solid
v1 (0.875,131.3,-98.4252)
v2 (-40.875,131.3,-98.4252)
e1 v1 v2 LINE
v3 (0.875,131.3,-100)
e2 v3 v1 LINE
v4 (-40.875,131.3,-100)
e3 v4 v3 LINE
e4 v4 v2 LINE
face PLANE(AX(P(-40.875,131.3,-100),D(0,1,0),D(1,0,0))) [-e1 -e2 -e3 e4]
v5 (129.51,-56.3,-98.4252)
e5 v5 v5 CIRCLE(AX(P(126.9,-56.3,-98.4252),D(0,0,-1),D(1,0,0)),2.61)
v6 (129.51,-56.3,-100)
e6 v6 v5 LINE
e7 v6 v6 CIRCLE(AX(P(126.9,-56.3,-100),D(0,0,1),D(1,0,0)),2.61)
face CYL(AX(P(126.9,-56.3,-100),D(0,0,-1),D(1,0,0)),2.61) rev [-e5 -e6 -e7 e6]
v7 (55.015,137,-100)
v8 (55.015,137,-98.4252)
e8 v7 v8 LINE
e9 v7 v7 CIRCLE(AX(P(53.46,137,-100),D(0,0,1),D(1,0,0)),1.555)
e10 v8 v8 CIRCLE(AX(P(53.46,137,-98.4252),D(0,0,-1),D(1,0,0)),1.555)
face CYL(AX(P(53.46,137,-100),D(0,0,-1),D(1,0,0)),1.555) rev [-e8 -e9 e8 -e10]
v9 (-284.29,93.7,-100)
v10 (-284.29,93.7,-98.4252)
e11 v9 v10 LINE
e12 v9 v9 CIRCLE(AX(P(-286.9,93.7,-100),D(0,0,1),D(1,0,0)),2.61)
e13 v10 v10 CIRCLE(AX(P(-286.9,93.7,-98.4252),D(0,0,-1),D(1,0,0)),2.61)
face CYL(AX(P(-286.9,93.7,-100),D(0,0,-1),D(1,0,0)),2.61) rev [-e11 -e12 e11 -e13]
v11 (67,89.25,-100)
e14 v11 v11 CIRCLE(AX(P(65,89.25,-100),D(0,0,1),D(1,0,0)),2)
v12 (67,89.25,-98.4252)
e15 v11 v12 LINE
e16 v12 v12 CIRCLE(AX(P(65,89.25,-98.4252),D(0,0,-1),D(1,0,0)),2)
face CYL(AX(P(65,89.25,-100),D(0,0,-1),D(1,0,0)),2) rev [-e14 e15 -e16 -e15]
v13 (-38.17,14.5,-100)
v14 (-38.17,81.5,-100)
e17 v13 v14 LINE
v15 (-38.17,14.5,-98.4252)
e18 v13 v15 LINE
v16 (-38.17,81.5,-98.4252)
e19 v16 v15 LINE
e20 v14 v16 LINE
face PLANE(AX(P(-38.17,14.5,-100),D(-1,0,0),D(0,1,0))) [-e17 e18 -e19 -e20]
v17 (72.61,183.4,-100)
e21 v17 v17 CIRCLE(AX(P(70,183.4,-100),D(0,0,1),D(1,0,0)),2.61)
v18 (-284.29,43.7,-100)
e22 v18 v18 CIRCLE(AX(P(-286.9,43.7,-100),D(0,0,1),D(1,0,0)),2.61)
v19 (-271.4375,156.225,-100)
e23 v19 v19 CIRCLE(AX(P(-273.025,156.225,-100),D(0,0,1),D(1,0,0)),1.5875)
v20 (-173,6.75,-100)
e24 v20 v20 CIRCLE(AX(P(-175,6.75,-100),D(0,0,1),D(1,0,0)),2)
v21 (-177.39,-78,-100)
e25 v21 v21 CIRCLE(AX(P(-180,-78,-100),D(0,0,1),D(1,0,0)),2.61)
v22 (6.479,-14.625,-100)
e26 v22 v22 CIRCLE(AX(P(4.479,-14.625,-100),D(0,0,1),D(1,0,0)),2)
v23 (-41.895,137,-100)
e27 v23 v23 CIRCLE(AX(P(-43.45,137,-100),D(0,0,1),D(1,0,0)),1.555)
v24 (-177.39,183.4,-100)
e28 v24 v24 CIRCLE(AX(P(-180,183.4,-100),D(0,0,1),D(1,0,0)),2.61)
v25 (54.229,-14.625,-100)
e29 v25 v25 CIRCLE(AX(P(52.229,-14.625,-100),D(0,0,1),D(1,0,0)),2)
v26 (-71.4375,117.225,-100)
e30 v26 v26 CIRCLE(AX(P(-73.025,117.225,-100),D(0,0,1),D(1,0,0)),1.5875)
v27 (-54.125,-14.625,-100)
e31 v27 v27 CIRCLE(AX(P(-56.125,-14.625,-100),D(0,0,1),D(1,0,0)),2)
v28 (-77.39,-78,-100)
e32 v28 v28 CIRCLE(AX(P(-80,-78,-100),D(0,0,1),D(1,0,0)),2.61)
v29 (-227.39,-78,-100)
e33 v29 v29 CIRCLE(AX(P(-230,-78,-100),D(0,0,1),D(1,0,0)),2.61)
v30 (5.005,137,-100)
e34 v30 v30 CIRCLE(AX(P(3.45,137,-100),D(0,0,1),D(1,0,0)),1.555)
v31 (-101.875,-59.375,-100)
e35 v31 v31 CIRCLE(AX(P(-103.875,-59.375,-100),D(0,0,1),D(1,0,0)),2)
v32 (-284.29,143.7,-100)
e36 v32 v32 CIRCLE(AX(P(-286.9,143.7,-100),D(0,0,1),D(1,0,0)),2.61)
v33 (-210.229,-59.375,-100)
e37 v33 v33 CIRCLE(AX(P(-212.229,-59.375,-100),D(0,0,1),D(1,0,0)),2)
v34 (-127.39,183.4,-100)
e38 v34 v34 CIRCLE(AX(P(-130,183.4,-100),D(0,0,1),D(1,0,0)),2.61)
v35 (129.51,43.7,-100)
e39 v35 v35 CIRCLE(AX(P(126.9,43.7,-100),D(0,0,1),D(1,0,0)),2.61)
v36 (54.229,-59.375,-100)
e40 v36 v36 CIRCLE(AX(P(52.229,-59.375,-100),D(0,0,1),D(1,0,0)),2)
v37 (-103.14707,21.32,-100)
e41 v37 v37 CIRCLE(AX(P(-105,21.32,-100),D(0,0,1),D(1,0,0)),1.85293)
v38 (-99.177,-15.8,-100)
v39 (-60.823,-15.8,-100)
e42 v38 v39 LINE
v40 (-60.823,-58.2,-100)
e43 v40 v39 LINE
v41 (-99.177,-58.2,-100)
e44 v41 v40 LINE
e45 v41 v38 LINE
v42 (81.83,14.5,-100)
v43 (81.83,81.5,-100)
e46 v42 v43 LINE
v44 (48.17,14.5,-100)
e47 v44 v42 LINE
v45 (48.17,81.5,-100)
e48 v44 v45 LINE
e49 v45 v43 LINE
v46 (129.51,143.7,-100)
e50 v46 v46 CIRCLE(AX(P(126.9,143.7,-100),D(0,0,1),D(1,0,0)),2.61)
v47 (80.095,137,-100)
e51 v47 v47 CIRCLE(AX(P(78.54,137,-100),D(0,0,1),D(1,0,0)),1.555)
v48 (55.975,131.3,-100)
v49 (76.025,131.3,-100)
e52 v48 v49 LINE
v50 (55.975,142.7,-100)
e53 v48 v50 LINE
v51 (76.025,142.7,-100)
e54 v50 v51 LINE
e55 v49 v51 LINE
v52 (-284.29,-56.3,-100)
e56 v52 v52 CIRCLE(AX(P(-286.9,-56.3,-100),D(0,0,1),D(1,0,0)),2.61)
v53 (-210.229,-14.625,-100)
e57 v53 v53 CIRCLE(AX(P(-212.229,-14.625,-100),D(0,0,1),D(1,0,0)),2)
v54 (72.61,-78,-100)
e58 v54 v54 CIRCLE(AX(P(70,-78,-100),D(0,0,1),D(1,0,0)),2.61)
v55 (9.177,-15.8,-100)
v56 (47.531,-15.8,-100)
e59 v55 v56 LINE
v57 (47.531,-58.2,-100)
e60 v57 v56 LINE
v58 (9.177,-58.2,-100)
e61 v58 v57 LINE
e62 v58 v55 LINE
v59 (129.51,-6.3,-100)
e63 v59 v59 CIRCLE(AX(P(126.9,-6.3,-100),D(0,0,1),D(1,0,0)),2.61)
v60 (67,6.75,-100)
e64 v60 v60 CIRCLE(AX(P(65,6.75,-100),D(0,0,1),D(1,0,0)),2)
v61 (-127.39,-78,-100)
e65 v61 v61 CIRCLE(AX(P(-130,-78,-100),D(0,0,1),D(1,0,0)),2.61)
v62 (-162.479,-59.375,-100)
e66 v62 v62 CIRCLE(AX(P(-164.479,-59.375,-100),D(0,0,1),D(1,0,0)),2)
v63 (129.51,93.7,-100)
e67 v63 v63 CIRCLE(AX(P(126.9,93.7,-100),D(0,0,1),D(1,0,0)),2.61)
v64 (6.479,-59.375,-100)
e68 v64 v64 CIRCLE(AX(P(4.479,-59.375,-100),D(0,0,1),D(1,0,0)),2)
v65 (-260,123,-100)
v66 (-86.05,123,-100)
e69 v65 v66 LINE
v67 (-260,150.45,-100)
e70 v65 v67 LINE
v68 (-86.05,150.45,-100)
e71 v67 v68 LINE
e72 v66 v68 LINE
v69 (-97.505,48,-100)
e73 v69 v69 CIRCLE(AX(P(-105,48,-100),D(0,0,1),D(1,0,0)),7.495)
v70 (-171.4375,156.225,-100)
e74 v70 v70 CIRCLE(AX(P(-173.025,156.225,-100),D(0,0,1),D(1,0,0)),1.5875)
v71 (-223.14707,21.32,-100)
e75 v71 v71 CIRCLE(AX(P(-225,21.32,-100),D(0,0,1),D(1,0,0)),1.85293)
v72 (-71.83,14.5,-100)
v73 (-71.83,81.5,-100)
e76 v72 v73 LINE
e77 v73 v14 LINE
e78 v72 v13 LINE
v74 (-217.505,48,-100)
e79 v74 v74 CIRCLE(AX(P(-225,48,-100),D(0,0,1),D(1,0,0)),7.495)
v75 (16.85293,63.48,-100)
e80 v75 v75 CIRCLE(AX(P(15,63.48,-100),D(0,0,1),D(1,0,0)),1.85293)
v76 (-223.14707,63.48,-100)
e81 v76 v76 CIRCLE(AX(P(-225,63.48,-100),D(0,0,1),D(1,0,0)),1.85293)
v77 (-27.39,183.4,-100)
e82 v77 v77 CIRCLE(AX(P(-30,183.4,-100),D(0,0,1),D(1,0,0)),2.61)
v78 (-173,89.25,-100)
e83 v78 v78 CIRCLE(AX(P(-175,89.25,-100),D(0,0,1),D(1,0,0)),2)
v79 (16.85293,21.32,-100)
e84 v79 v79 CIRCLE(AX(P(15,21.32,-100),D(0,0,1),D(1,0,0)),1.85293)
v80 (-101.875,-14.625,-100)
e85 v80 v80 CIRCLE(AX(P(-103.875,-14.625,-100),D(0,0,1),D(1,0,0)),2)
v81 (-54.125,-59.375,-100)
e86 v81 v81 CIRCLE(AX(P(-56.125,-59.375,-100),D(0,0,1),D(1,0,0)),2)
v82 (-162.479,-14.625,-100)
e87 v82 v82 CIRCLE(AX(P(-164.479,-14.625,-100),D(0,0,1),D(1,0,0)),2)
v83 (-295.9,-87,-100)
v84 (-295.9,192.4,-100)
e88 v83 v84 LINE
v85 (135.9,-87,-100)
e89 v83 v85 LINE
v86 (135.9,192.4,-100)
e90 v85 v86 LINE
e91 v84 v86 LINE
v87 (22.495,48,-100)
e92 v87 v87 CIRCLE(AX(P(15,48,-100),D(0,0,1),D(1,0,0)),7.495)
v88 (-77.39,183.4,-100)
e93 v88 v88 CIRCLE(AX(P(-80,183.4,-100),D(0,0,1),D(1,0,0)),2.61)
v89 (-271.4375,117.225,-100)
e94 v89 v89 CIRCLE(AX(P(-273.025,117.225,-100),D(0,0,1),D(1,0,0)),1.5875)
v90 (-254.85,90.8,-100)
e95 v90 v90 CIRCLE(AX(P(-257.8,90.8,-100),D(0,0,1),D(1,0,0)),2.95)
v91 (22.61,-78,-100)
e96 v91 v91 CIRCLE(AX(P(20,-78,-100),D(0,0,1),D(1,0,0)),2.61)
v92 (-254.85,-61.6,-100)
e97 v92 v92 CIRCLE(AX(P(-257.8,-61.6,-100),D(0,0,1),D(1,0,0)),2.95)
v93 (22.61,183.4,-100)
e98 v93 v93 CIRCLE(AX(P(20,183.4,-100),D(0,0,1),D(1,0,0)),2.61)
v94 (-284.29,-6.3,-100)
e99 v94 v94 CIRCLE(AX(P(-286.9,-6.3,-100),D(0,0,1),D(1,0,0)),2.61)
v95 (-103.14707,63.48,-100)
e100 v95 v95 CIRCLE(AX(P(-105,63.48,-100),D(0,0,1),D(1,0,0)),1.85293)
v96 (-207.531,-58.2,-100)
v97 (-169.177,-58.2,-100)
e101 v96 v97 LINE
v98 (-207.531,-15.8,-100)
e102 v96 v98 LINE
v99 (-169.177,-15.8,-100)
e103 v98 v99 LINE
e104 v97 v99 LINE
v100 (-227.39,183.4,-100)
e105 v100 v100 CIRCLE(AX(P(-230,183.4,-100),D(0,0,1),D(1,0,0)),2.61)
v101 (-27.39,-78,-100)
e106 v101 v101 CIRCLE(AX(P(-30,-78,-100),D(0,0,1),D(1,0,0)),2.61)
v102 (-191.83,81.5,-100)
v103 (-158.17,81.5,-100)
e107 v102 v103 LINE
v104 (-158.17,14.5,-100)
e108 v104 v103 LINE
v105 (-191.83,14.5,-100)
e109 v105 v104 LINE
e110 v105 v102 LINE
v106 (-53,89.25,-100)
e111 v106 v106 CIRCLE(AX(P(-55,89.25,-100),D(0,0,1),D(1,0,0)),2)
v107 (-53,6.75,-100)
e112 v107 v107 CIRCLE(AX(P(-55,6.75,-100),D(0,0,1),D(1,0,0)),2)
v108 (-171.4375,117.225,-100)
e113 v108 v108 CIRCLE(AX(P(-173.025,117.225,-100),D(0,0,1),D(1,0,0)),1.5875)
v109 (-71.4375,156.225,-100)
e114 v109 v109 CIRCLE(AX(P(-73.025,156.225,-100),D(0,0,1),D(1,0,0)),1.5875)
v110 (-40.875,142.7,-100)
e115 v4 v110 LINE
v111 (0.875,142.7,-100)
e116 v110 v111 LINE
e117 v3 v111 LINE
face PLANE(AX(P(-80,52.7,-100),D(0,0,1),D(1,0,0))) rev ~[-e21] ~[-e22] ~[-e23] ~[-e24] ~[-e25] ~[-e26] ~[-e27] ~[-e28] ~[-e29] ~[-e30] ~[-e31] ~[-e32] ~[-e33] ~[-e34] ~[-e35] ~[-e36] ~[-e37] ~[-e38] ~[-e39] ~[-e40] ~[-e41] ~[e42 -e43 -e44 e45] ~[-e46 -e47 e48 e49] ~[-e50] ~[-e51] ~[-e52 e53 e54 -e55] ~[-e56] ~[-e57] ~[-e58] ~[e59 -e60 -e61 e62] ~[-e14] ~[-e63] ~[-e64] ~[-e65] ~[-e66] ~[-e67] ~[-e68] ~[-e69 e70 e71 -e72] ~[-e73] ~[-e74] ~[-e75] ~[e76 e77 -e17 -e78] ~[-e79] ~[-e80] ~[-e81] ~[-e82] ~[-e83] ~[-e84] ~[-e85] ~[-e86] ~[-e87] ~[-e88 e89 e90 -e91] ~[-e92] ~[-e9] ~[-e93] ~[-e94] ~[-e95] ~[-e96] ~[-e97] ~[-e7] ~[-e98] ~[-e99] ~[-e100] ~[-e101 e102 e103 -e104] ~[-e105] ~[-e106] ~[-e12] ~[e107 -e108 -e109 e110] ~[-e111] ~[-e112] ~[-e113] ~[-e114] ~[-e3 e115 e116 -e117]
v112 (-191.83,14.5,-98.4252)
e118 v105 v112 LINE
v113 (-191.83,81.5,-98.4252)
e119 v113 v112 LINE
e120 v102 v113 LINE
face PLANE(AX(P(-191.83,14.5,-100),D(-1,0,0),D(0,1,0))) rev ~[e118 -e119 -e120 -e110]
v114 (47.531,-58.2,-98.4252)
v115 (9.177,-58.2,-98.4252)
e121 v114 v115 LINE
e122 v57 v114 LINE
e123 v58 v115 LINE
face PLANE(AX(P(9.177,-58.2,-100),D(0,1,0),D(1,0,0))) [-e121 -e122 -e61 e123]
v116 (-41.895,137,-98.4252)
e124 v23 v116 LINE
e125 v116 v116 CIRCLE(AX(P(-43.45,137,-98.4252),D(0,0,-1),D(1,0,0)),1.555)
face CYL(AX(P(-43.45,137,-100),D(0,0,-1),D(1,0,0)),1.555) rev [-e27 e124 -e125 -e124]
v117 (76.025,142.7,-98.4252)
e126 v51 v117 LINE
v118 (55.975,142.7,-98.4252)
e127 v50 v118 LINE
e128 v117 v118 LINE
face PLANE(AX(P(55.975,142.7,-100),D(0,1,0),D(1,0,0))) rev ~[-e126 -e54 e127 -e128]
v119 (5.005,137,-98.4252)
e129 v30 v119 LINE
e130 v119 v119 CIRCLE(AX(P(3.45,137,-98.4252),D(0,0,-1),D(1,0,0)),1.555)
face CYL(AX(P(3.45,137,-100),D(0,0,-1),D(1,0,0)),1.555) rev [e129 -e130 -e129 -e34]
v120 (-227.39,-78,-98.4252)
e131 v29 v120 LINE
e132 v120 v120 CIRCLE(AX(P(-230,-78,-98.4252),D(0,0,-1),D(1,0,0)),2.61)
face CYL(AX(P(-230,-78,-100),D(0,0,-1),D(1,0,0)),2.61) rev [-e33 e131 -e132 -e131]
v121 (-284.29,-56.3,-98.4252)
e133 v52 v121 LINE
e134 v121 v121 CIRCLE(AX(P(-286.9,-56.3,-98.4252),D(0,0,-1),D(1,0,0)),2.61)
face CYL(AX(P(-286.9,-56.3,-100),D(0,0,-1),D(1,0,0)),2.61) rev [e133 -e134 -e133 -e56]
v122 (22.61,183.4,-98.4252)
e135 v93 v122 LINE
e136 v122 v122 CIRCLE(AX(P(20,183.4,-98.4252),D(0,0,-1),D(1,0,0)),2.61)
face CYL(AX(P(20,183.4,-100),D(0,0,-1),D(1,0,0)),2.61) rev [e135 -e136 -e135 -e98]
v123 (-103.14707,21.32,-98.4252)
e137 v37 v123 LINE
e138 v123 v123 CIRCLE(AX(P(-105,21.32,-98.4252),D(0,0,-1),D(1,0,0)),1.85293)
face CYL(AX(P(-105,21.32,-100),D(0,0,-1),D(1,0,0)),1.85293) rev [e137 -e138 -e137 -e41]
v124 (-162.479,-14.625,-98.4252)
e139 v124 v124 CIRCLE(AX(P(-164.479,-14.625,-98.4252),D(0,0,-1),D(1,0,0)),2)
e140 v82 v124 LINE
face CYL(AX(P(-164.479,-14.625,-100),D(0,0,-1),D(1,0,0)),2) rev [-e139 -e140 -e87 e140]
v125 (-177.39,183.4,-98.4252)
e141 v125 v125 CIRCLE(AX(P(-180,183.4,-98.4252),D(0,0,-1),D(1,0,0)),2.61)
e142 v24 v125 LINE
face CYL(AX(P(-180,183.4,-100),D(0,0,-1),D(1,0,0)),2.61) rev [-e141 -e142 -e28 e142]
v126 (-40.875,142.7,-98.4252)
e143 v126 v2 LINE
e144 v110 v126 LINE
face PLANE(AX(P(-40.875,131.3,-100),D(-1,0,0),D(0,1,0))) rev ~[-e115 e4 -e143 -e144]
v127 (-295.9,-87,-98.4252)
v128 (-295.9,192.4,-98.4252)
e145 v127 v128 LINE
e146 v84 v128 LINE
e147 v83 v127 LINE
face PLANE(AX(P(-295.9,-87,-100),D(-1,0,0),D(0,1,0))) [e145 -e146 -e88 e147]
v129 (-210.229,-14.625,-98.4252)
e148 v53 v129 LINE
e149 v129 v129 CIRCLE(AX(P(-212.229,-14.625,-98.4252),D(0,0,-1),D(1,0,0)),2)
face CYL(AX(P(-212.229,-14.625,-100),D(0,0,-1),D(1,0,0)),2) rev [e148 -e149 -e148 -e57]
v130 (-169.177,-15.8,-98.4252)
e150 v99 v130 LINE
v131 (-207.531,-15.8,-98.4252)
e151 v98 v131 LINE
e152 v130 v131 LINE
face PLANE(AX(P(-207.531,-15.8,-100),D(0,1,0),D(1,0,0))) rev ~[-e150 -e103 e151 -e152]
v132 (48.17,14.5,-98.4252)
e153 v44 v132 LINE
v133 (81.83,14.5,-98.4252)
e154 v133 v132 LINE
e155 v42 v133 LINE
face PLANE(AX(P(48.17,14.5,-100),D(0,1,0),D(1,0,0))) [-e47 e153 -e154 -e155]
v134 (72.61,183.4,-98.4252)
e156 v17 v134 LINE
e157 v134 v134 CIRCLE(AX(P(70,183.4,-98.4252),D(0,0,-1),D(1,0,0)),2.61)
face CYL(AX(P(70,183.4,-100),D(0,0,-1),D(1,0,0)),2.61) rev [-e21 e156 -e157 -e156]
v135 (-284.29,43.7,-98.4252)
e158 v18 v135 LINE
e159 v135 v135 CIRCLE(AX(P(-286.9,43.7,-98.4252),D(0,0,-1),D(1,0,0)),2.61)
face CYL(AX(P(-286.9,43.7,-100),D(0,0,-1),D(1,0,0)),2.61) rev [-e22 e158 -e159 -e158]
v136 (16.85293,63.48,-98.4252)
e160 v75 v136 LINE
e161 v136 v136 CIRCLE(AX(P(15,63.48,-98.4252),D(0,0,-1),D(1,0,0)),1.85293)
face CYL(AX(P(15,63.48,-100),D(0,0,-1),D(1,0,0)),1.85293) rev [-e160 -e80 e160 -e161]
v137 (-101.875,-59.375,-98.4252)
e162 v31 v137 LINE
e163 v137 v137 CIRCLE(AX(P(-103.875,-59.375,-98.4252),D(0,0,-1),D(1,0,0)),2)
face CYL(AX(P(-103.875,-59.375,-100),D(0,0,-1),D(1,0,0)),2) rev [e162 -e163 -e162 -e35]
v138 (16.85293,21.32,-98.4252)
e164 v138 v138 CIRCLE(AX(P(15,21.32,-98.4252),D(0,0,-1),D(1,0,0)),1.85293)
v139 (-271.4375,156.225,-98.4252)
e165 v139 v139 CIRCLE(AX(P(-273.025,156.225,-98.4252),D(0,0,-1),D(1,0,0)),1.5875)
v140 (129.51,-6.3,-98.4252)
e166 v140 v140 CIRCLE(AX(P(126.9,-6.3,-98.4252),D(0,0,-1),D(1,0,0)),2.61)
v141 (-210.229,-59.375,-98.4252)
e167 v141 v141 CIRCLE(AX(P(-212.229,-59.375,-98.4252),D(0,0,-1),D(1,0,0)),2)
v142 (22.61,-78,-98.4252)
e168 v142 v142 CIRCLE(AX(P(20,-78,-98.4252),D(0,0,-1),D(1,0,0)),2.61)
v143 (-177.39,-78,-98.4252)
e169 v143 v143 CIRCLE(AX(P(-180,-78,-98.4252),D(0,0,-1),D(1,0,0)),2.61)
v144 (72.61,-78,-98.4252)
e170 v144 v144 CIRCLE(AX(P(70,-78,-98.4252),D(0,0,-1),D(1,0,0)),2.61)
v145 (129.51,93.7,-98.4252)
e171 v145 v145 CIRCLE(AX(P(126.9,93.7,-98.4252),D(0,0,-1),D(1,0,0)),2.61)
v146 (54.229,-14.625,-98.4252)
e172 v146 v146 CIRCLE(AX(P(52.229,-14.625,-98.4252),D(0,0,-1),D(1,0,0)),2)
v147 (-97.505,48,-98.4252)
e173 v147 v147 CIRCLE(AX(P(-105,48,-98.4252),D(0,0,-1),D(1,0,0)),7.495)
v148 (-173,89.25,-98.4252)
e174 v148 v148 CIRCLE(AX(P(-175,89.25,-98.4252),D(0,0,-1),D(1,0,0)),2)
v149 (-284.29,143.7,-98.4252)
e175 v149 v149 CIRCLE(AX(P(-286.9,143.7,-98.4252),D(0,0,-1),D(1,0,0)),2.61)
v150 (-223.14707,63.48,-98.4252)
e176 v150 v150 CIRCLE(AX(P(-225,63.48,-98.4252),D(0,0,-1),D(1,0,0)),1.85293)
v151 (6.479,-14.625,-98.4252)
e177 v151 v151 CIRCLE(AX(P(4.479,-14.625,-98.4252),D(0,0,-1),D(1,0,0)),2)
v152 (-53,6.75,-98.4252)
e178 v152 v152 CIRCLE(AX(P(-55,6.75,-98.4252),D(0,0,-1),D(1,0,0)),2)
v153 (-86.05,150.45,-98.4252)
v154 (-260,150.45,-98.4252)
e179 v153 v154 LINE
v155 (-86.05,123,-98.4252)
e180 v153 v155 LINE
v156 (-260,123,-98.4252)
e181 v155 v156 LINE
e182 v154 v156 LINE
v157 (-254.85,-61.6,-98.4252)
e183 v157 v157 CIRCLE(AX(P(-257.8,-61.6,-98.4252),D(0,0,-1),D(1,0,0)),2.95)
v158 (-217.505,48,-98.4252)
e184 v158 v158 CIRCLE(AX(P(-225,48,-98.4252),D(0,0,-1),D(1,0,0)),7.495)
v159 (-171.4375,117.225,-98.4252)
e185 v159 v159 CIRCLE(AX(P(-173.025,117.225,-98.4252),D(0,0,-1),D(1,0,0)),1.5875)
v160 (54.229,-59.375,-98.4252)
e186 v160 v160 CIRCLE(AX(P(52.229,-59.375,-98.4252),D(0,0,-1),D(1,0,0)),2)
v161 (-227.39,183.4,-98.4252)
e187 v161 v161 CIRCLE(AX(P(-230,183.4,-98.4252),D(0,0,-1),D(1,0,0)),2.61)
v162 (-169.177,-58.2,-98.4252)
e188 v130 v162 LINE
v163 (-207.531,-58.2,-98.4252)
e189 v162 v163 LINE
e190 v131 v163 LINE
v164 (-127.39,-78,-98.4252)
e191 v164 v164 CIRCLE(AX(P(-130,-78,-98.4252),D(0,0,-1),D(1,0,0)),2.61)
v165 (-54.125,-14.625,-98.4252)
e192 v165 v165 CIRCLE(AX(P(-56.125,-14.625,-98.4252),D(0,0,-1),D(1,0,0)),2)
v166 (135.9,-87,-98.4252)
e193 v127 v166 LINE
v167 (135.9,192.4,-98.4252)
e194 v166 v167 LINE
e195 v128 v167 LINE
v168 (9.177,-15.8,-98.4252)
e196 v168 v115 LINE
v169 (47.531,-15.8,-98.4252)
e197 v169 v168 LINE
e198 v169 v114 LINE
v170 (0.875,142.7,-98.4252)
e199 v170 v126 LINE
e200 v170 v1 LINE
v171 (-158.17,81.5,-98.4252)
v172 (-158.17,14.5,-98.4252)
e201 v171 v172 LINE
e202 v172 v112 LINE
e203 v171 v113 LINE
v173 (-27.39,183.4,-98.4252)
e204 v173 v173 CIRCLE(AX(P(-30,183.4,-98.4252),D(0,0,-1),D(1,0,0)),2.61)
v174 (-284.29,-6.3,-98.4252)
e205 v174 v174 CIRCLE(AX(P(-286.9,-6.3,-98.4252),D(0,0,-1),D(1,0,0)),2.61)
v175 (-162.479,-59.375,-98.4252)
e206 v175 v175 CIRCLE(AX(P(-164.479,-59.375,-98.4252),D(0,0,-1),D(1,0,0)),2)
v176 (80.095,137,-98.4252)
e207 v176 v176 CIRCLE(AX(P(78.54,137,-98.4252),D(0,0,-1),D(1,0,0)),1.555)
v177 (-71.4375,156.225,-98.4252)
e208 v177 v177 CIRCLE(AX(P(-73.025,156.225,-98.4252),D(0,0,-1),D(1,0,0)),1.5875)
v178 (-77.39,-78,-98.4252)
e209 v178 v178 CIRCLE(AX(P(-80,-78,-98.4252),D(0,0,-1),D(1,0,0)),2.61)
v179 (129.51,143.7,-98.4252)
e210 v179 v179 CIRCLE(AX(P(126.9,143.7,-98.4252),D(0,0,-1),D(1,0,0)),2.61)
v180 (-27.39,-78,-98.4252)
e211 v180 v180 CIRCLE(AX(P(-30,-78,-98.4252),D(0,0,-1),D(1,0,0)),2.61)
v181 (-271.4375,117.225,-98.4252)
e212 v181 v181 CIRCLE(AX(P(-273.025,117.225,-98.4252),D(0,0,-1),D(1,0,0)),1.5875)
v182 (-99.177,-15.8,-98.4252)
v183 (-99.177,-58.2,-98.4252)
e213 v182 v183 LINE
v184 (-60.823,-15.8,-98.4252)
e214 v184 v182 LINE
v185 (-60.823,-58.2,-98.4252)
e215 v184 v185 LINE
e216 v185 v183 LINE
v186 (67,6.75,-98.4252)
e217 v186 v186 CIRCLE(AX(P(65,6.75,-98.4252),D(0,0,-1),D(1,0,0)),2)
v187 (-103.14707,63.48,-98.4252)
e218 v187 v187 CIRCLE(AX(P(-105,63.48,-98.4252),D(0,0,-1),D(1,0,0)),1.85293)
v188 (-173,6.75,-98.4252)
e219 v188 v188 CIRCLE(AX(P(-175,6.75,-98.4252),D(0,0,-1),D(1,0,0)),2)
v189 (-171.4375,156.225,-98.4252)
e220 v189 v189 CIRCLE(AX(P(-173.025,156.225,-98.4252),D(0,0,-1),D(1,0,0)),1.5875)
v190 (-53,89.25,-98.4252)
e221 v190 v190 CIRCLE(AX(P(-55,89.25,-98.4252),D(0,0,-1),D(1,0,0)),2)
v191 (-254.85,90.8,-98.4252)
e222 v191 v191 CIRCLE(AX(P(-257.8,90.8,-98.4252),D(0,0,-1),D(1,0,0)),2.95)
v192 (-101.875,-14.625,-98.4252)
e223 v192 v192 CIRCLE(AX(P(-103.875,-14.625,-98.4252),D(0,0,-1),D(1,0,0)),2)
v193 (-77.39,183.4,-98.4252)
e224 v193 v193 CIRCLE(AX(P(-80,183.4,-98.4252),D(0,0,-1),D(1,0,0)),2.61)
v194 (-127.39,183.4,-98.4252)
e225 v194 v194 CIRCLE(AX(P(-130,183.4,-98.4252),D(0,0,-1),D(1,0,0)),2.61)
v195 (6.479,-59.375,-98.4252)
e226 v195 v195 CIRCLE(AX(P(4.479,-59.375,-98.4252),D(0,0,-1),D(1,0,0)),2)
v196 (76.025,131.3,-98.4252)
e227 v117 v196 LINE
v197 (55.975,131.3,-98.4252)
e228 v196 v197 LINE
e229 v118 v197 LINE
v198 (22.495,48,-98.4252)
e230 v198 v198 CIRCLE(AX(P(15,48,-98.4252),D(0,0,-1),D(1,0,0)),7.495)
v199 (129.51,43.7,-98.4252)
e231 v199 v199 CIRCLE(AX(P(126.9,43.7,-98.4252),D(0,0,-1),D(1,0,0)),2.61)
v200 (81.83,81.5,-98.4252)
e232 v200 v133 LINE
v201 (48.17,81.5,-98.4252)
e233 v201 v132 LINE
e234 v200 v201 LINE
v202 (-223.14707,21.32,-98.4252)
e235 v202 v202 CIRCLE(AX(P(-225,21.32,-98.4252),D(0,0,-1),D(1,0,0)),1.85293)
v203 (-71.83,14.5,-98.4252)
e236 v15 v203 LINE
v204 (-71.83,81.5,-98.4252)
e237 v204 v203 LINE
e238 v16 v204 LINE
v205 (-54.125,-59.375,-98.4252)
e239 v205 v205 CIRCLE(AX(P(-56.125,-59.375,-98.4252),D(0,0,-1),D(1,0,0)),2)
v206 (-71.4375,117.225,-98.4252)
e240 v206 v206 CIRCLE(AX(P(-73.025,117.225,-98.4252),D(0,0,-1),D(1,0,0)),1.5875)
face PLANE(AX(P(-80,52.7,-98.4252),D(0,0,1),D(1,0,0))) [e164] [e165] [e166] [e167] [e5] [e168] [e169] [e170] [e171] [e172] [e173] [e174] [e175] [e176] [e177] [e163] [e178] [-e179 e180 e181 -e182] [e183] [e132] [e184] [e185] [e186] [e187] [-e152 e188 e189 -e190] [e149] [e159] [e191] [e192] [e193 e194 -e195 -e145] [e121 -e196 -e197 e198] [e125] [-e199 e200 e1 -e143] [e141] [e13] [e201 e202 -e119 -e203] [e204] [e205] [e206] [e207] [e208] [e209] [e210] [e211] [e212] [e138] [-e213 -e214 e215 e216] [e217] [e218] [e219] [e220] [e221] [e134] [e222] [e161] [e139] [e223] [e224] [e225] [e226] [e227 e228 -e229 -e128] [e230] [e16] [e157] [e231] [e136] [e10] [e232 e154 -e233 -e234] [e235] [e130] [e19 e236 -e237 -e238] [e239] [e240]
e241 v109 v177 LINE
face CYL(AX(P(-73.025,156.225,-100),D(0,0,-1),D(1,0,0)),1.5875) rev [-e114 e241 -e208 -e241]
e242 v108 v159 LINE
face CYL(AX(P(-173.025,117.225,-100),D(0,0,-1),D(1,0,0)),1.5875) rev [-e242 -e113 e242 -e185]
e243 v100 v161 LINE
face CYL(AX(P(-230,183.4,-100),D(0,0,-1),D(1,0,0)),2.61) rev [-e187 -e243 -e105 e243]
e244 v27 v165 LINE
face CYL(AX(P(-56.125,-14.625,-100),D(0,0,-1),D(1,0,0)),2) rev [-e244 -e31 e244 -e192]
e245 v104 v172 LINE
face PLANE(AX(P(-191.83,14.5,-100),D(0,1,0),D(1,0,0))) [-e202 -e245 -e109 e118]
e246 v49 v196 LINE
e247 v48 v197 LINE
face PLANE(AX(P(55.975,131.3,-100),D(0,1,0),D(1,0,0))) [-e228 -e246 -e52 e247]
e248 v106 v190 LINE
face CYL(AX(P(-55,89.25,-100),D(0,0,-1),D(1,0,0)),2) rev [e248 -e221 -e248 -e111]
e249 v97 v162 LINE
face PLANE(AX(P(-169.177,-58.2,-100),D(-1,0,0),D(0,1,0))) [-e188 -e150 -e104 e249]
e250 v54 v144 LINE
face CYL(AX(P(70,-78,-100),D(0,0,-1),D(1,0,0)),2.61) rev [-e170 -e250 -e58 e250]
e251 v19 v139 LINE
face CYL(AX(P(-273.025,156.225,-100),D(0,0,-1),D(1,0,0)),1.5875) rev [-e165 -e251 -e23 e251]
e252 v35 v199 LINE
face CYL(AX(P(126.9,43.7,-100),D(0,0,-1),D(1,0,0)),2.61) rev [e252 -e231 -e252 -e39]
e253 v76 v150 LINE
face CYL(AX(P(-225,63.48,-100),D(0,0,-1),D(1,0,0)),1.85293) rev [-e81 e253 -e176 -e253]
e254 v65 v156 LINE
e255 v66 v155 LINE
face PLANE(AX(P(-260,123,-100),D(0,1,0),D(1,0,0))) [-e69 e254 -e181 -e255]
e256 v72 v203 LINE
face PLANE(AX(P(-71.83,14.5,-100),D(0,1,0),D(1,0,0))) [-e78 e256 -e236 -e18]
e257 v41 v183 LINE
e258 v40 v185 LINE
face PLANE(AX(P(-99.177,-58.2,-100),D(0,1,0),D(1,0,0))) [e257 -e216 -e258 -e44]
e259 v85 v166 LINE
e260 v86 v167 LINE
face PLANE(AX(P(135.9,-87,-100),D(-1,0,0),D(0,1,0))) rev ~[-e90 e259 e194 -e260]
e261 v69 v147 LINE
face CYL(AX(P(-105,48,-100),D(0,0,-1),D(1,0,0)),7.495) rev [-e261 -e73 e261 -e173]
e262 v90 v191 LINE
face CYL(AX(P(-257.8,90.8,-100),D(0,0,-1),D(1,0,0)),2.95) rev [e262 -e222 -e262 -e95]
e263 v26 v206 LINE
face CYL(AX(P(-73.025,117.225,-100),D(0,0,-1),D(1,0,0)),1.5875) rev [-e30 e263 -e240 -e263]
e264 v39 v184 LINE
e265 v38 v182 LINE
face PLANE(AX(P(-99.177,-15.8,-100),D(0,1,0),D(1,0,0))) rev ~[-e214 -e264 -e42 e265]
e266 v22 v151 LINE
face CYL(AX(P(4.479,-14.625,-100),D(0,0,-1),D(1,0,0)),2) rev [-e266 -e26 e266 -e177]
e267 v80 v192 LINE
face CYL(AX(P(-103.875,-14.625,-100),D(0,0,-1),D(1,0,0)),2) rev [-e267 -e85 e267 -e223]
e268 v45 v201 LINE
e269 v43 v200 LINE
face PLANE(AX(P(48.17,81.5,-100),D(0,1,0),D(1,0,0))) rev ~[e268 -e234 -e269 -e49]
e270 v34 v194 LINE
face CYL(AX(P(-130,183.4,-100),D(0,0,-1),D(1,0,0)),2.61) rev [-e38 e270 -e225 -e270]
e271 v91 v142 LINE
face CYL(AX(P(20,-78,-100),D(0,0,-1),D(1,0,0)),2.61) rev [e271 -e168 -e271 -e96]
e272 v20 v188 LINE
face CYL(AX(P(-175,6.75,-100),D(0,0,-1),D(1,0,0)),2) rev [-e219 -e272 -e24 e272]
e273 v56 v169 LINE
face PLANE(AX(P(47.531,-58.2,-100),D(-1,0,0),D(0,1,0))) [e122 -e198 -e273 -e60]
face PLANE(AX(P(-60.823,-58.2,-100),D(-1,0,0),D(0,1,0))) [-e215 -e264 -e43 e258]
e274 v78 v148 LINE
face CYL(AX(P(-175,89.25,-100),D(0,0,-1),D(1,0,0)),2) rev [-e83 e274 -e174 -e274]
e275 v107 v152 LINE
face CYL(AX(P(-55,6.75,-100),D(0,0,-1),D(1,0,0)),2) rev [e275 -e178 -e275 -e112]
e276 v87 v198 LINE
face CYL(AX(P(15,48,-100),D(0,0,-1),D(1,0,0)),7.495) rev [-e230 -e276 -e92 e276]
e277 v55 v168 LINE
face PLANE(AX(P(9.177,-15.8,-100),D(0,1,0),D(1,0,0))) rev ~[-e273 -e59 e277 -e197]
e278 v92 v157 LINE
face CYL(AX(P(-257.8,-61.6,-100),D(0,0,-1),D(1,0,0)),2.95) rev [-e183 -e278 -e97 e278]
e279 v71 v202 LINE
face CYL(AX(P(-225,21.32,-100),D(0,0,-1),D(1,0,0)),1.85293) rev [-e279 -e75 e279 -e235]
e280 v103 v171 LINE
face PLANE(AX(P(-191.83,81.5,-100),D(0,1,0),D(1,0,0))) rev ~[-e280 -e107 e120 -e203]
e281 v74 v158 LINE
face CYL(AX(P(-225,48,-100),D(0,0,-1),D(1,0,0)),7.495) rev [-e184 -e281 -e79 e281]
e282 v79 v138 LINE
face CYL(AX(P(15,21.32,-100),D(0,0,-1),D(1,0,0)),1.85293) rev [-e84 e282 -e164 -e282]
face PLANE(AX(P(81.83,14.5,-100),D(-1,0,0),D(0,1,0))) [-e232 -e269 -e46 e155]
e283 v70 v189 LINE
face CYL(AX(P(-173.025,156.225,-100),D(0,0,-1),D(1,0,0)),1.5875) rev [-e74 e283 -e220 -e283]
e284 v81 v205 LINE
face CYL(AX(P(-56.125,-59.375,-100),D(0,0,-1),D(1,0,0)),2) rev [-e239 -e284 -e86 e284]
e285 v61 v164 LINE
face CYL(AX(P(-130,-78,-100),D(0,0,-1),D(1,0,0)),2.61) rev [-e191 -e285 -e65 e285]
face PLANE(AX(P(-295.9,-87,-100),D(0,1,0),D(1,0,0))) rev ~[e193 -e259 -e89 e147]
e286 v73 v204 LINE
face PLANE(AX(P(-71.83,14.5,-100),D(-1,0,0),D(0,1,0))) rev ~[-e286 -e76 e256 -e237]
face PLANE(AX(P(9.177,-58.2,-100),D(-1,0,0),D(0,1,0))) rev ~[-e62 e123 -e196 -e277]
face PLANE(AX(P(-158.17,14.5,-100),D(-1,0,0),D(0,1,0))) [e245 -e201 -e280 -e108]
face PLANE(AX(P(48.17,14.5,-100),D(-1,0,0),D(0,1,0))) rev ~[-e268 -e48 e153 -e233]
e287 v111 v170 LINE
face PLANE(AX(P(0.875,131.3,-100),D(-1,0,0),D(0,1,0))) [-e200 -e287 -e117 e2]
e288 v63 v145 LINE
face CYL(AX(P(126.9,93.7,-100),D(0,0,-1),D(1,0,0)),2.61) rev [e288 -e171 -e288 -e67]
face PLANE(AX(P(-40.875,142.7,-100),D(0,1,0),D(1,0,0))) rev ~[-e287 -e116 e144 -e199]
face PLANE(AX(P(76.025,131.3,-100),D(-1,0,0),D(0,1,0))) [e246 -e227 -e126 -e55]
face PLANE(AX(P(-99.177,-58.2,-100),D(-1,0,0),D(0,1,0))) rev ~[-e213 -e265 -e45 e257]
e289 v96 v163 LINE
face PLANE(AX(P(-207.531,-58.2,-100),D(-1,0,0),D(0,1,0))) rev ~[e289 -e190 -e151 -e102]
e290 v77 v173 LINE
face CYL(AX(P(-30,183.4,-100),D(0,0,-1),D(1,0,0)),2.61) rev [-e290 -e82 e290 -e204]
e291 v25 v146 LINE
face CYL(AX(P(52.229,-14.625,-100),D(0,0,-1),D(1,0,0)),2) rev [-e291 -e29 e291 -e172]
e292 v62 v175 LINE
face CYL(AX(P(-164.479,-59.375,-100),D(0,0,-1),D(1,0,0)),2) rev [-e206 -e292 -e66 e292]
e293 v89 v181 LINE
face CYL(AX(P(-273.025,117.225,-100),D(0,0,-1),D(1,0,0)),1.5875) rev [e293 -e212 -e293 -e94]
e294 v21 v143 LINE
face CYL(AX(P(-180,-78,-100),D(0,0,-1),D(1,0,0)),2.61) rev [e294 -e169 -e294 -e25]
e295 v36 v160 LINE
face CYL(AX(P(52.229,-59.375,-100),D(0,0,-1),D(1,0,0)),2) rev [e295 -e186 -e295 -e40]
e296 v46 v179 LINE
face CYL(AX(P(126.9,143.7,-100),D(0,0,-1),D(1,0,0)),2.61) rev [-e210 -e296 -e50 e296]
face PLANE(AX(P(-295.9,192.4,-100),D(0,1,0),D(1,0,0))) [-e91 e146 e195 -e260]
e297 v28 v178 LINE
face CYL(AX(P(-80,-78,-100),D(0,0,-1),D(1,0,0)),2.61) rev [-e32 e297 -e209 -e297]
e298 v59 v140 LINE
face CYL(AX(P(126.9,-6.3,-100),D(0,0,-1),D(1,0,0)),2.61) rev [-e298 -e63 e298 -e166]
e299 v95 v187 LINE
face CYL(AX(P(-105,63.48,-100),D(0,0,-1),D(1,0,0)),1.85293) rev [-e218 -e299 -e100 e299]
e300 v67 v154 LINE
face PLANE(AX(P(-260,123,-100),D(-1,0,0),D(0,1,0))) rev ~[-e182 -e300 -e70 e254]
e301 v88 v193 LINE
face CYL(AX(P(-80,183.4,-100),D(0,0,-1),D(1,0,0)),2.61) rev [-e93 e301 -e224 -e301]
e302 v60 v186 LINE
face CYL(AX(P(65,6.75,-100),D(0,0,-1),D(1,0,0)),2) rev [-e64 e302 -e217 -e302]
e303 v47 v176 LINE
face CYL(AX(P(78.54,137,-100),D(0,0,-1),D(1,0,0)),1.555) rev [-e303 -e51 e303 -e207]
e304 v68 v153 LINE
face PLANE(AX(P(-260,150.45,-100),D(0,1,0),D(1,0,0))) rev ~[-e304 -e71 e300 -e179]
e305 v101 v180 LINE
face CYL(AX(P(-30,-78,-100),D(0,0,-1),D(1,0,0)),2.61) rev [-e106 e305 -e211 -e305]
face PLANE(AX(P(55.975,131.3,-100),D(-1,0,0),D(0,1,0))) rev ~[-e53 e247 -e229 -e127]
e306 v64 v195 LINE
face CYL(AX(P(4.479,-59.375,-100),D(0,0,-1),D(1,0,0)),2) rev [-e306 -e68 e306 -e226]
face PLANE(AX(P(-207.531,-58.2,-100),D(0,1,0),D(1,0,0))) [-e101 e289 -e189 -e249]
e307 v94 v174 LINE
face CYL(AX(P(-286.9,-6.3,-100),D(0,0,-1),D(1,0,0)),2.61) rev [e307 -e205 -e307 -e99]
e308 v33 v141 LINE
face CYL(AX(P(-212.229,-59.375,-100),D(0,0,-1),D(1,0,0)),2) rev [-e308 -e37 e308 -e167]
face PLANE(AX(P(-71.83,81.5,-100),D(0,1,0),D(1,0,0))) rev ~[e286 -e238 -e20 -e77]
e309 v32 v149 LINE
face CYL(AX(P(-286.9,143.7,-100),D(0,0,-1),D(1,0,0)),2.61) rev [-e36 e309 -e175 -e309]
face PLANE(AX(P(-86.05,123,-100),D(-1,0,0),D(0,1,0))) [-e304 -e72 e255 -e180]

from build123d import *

# Parameters (mm, degrees)
SKETCH_W               = 431.8
SKETCH_H               = 279.4
PAD_DEPTH              = 1.5748
SKETCH002_R            = 1.5875
SKETCH002_W            = 173.95
SKETCH002_H            = 27.45
POCKET_DEPTH           = 1.5758
SKETCH003_R            = 2
SKETCH003_W            = 38.354
SKETCH003_H            = 42.4
POCKET001_DEPTH        = 1.5758
SKETCH004_R            = 2
SKETCH004_R_2          = 7.495
SKETCH004_R_3          = 1.85293
SKETCH004_W            = 33.66
SKETCH004_H            = 67
POCKET002_DEPTH        = 1.5758
SKETCH005_R            = 1.555
SKETCH005_W            = 41.75
SKETCH005_H            = 11.4
POCKET003_DEPTH        = 1.5758
SKETCH006_R            = 1.555
SKETCH006_W            = 20.05
SKETCH006_H            = 11.4
POCKET004_DEPTH        = 1.5758
SKETCH007_R            = 2.61
POCKET005_DEPTH        = 5
LINEARPATTERN_COUNT    = 4
LINEARPATTERN_PITCH    = 50
LINEARPATTERN001_COUNT = 4
LINEARPATTERN001_PITCH = 50
SKETCH008_R            = 2.61
POCKET006_DEPTH        = 1.5758
LINEARPATTERN002_COUNT = 3
LINEARPATTERN002_PITCH = 50
LINEARPATTERN003_COUNT = 3
LINEARPATTERN003_PITCH = 50
SKETCH009_R            = 2.61
POCKET007_DEPTH        = 1.5758
LINEARPATTERN004_COUNT = 4
LINEARPATTERN004_PITCH = 50
LINEARPATTERN005_COUNT = 4
LINEARPATTERN005_PITCH = 50
SKETCH010_R            = 2.61
POCKET008_DEPTH        = 1.5758
LINEARPATTERN006_COUNT = 3
LINEARPATTERN006_PITCH = 50
LINEARPATTERN007_COUNT = 3
LINEARPATTERN007_PITCH = 50
SKETCH011_R            = 2.95
POCKET009_DEPTH        = 1.5758


with BuildPart() as part:
    # Sketch → Pad (new body)
    with BuildSketch(Plane.XY):
        with Locations((0, 139.7)):
            Rectangle(SKETCH_W, SKETCH_H)
    extrude(amount=PAD_DEPTH)

    # Sketch002 → Pocket (cut, through all)
    with BuildSketch(Plane.XY):
        with Locations((-193.025, 243.225)):
            Circle(SKETCH002_R)
        with Locations((6.975, 243.225)):
            Circle(SKETCH002_R)
        with Locations((-193.025, 204.225)):
            Circle(SKETCH002_R)
        with Locations((6.975, 204.225)):
            Circle(SKETCH002_R)
        with Locations((-93.025, 243.225)):
            Circle(SKETCH002_R)
        with Locations((-93.025, 204.225)):
            Circle(SKETCH002_R)
        with Locations((-93.025, 223.725)):
            Rectangle(SKETCH002_W, SKETCH002_H)
    extrude(amount=POCKET_DEPTH, mode=Mode.SUBTRACT)

    # Sketch003 → Pocket001 (cut, through all)
    with BuildSketch(Plane.XY):
        with Locations((-132.229, 72.375)):
            Circle(SKETCH003_R)
        with Locations((-132.229, 27.625)):
            Circle(SKETCH003_R)
        with Locations((-84.479, 27.625)):
            Circle(SKETCH003_R)
        with Locations((-84.479, 72.375)):
            Circle(SKETCH003_R)
        with Locations((-23.875, 72.375)):
            Circle(SKETCH003_R)
        with Locations((23.875, 72.375)):
            Circle(SKETCH003_R)
        with Locations((23.875, 27.625)):
            Circle(SKETCH003_R)
        with Locations((-23.875, 27.625)):
            Circle(SKETCH003_R)
        with Locations((84.479, 72.375)):
            Circle(SKETCH003_R)
        with Locations((132.229, 72.375)):
            Circle(SKETCH003_R)
        with Locations((132.229, 27.625)):
            Circle(SKETCH003_R)
        with Locations((84.479, 27.625)):
            Circle(SKETCH003_R)
        with Locations((-108.354, 50)):
            Rectangle(SKETCH003_W, SKETCH003_H)
        with Locations((0, 50)):
            Rectangle(SKETCH003_W, SKETCH003_H)
        with Locations((108.354, 50)):
            Rectangle(SKETCH003_W, SKETCH003_H)
    extrude(amount=POCKET001_DEPTH, mode=Mode.SUBTRACT)

    # Sketch004 → Pocket002 (cut, through all)
    with BuildSketch(Plane.XY):
        with Locations((-95, 93.75)):
            Circle(SKETCH004_R)
        with Locations((-95, 176.25)):
            Circle(SKETCH004_R)
        with Locations((25, 176.25)):
            Circle(SKETCH004_R)
        with Locations((25, 93.75)):
            Circle(SKETCH004_R)
        with Locations((145, 176.25)):
            Circle(SKETCH004_R)
        with Locations((145, 93.75)):
            Circle(SKETCH004_R)
        with Locations((-145, 135)):
            Circle(SKETCH004_R_2)
        with Locations((-145, 150.48)):
            Circle(SKETCH004_R_3)
        with Locations((-145, 108.32)):
            Circle(SKETCH004_R_3)
        with Locations((-25, 150.48)):
            Circle(SKETCH004_R_3)
        with Locations((-25, 135)):
            Circle(SKETCH004_R_2)
        with Locations((-25, 108.32)):
            Circle(SKETCH004_R_3)
        with Locations((95, 150.48)):
            Circle(SKETCH004_R_3)
        with Locations((95, 135)):
            Circle(SKETCH004_R_2)
        with Locations((95, 108.32)):
            Circle(SKETCH004_R_3)
        with Locations((-95, 135)):
            Rectangle(SKETCH004_W, SKETCH004_H)
        with Locations((25, 135)):
            Rectangle(SKETCH004_W, SKETCH004_H)
        with Locations((145, 135)):
            Rectangle(SKETCH004_W, SKETCH004_H)
    extrude(amount=POCKET002_DEPTH, mode=Mode.SUBTRACT)

    # Sketch005 → Pocket003 (cut, through all)
    with BuildSketch(Plane.XY):
        with Locations((36.55, 224)):
            Circle(SKETCH005_R)
        with Locations((83.45, 224)):
            Circle(SKETCH005_R)
        with Locations((60, 224)):
            Rectangle(SKETCH005_W, SKETCH005_H)
    extrude(amount=POCKET003_DEPTH, mode=Mode.SUBTRACT)

    # Sketch006 → Pocket004 (cut, through all)
    with BuildSketch(Plane.XY):
        with Locations((133.46, 224)):
            Circle(SKETCH006_R)
        with Locations((158.54, 224)):
            Circle(SKETCH006_R)
        with Locations((146, 224)):
            Rectangle(SKETCH006_W, SKETCH006_H)
    extrude(amount=POCKET004_DEPTH, mode=Mode.SUBTRACT)

    # Sketch007 → Pocket005 (cut)
    with BuildSketch(Plane.XY):
        with Locations((0, 9)):
            Circle(SKETCH007_R)
    pocket005 = extrude(amount=POCKET005_DEPTH, mode=Mode.SUBTRACT)

    # LinearPattern: Pocket005 ×4
    with Locations(*[(i * LINEARPATTERN_PITCH, 0, 0) for i in range(1, LINEARPATTERN_COUNT)]):
        add(pocket005, mode=Mode.SUBTRACT)

    # LinearPattern001: Pocket005 ×4
    with Locations(*[(-i * LINEARPATTERN001_PITCH, 0, 0) for i in range(1, LINEARPATTERN001_COUNT)]):
        add(pocket005, mode=Mode.SUBTRACT)

    # Sketch008 → Pocket006 (cut, through all)
    with BuildSketch(Plane.XY):
        with Locations((-206.9, 130.7)):
            Circle(SKETCH008_R)
    pocket006 = extrude(amount=POCKET006_DEPTH, mode=Mode.SUBTRACT)

    # LinearPattern002: Pocket006 ×3
    with Locations(*[(0, -i * LINEARPATTERN002_PITCH, 0) for i in range(1, LINEARPATTERN002_COUNT)]):
        add(pocket006, mode=Mode.SUBTRACT)

    # LinearPattern003: Pocket006 ×3
    with Locations(*[(0, i * LINEARPATTERN003_PITCH, 0) for i in range(1, LINEARPATTERN003_COUNT)]):
        add(pocket006, mode=Mode.SUBTRACT)

    # Sketch009 → Pocket007 (cut, through all)
    with BuildSketch(Plane.XY):
        with Locations((0, 270.4)):
            Circle(SKETCH009_R)
    pocket007 = extrude(amount=POCKET007_DEPTH, mode=Mode.SUBTRACT)

    # LinearPattern004: Pocket007 ×4
    with Locations(*[(i * LINEARPATTERN004_PITCH, 0, 0) for i in range(1, LINEARPATTERN004_COUNT)]):
        add(pocket007, mode=Mode.SUBTRACT)

    # LinearPattern005: Pocket007 ×4
    with Locations(*[(-i * LINEARPATTERN005_PITCH, 0, 0) for i in range(1, LINEARPATTERN005_COUNT)]):
        add(pocket007, mode=Mode.SUBTRACT)

    # Sketch010 → Pocket008 (cut, through all)
    with BuildSketch(Plane.XY):
        with Locations((206.9, 130.7)):
            Circle(SKETCH010_R)
    pocket008 = extrude(amount=POCKET008_DEPTH, mode=Mode.SUBTRACT)

    # LinearPattern006: Pocket008 ×3
    with Locations(*[(0, i * LINEARPATTERN006_PITCH, 0) for i in range(1, LINEARPATTERN006_COUNT)]):
        add(pocket008, mode=Mode.SUBTRACT)

    # LinearPattern007: Pocket008 ×3
    with Locations(*[(0, -i * LINEARPATTERN007_PITCH, 0) for i in range(1, LINEARPATTERN007_COUNT)]):
        add(pocket008, mode=Mode.SUBTRACT)

    # Sketch011 → Pocket009 (cut, through all)
    with BuildSketch(Plane.XY):
        with Locations((-177.8, 177.8)):
            Circle(SKETCH011_R)
        with Locations((-177.8, 25.4)):
            Circle(SKETCH011_R)
    extrude(amount=POCKET009_DEPTH, mode=Mode.SUBTRACT)


with BuildPart() as part_1:
    # Body placement: moved
    add(part.part.moved(Location((-80, -87, -100))))


solid = part_1.part
